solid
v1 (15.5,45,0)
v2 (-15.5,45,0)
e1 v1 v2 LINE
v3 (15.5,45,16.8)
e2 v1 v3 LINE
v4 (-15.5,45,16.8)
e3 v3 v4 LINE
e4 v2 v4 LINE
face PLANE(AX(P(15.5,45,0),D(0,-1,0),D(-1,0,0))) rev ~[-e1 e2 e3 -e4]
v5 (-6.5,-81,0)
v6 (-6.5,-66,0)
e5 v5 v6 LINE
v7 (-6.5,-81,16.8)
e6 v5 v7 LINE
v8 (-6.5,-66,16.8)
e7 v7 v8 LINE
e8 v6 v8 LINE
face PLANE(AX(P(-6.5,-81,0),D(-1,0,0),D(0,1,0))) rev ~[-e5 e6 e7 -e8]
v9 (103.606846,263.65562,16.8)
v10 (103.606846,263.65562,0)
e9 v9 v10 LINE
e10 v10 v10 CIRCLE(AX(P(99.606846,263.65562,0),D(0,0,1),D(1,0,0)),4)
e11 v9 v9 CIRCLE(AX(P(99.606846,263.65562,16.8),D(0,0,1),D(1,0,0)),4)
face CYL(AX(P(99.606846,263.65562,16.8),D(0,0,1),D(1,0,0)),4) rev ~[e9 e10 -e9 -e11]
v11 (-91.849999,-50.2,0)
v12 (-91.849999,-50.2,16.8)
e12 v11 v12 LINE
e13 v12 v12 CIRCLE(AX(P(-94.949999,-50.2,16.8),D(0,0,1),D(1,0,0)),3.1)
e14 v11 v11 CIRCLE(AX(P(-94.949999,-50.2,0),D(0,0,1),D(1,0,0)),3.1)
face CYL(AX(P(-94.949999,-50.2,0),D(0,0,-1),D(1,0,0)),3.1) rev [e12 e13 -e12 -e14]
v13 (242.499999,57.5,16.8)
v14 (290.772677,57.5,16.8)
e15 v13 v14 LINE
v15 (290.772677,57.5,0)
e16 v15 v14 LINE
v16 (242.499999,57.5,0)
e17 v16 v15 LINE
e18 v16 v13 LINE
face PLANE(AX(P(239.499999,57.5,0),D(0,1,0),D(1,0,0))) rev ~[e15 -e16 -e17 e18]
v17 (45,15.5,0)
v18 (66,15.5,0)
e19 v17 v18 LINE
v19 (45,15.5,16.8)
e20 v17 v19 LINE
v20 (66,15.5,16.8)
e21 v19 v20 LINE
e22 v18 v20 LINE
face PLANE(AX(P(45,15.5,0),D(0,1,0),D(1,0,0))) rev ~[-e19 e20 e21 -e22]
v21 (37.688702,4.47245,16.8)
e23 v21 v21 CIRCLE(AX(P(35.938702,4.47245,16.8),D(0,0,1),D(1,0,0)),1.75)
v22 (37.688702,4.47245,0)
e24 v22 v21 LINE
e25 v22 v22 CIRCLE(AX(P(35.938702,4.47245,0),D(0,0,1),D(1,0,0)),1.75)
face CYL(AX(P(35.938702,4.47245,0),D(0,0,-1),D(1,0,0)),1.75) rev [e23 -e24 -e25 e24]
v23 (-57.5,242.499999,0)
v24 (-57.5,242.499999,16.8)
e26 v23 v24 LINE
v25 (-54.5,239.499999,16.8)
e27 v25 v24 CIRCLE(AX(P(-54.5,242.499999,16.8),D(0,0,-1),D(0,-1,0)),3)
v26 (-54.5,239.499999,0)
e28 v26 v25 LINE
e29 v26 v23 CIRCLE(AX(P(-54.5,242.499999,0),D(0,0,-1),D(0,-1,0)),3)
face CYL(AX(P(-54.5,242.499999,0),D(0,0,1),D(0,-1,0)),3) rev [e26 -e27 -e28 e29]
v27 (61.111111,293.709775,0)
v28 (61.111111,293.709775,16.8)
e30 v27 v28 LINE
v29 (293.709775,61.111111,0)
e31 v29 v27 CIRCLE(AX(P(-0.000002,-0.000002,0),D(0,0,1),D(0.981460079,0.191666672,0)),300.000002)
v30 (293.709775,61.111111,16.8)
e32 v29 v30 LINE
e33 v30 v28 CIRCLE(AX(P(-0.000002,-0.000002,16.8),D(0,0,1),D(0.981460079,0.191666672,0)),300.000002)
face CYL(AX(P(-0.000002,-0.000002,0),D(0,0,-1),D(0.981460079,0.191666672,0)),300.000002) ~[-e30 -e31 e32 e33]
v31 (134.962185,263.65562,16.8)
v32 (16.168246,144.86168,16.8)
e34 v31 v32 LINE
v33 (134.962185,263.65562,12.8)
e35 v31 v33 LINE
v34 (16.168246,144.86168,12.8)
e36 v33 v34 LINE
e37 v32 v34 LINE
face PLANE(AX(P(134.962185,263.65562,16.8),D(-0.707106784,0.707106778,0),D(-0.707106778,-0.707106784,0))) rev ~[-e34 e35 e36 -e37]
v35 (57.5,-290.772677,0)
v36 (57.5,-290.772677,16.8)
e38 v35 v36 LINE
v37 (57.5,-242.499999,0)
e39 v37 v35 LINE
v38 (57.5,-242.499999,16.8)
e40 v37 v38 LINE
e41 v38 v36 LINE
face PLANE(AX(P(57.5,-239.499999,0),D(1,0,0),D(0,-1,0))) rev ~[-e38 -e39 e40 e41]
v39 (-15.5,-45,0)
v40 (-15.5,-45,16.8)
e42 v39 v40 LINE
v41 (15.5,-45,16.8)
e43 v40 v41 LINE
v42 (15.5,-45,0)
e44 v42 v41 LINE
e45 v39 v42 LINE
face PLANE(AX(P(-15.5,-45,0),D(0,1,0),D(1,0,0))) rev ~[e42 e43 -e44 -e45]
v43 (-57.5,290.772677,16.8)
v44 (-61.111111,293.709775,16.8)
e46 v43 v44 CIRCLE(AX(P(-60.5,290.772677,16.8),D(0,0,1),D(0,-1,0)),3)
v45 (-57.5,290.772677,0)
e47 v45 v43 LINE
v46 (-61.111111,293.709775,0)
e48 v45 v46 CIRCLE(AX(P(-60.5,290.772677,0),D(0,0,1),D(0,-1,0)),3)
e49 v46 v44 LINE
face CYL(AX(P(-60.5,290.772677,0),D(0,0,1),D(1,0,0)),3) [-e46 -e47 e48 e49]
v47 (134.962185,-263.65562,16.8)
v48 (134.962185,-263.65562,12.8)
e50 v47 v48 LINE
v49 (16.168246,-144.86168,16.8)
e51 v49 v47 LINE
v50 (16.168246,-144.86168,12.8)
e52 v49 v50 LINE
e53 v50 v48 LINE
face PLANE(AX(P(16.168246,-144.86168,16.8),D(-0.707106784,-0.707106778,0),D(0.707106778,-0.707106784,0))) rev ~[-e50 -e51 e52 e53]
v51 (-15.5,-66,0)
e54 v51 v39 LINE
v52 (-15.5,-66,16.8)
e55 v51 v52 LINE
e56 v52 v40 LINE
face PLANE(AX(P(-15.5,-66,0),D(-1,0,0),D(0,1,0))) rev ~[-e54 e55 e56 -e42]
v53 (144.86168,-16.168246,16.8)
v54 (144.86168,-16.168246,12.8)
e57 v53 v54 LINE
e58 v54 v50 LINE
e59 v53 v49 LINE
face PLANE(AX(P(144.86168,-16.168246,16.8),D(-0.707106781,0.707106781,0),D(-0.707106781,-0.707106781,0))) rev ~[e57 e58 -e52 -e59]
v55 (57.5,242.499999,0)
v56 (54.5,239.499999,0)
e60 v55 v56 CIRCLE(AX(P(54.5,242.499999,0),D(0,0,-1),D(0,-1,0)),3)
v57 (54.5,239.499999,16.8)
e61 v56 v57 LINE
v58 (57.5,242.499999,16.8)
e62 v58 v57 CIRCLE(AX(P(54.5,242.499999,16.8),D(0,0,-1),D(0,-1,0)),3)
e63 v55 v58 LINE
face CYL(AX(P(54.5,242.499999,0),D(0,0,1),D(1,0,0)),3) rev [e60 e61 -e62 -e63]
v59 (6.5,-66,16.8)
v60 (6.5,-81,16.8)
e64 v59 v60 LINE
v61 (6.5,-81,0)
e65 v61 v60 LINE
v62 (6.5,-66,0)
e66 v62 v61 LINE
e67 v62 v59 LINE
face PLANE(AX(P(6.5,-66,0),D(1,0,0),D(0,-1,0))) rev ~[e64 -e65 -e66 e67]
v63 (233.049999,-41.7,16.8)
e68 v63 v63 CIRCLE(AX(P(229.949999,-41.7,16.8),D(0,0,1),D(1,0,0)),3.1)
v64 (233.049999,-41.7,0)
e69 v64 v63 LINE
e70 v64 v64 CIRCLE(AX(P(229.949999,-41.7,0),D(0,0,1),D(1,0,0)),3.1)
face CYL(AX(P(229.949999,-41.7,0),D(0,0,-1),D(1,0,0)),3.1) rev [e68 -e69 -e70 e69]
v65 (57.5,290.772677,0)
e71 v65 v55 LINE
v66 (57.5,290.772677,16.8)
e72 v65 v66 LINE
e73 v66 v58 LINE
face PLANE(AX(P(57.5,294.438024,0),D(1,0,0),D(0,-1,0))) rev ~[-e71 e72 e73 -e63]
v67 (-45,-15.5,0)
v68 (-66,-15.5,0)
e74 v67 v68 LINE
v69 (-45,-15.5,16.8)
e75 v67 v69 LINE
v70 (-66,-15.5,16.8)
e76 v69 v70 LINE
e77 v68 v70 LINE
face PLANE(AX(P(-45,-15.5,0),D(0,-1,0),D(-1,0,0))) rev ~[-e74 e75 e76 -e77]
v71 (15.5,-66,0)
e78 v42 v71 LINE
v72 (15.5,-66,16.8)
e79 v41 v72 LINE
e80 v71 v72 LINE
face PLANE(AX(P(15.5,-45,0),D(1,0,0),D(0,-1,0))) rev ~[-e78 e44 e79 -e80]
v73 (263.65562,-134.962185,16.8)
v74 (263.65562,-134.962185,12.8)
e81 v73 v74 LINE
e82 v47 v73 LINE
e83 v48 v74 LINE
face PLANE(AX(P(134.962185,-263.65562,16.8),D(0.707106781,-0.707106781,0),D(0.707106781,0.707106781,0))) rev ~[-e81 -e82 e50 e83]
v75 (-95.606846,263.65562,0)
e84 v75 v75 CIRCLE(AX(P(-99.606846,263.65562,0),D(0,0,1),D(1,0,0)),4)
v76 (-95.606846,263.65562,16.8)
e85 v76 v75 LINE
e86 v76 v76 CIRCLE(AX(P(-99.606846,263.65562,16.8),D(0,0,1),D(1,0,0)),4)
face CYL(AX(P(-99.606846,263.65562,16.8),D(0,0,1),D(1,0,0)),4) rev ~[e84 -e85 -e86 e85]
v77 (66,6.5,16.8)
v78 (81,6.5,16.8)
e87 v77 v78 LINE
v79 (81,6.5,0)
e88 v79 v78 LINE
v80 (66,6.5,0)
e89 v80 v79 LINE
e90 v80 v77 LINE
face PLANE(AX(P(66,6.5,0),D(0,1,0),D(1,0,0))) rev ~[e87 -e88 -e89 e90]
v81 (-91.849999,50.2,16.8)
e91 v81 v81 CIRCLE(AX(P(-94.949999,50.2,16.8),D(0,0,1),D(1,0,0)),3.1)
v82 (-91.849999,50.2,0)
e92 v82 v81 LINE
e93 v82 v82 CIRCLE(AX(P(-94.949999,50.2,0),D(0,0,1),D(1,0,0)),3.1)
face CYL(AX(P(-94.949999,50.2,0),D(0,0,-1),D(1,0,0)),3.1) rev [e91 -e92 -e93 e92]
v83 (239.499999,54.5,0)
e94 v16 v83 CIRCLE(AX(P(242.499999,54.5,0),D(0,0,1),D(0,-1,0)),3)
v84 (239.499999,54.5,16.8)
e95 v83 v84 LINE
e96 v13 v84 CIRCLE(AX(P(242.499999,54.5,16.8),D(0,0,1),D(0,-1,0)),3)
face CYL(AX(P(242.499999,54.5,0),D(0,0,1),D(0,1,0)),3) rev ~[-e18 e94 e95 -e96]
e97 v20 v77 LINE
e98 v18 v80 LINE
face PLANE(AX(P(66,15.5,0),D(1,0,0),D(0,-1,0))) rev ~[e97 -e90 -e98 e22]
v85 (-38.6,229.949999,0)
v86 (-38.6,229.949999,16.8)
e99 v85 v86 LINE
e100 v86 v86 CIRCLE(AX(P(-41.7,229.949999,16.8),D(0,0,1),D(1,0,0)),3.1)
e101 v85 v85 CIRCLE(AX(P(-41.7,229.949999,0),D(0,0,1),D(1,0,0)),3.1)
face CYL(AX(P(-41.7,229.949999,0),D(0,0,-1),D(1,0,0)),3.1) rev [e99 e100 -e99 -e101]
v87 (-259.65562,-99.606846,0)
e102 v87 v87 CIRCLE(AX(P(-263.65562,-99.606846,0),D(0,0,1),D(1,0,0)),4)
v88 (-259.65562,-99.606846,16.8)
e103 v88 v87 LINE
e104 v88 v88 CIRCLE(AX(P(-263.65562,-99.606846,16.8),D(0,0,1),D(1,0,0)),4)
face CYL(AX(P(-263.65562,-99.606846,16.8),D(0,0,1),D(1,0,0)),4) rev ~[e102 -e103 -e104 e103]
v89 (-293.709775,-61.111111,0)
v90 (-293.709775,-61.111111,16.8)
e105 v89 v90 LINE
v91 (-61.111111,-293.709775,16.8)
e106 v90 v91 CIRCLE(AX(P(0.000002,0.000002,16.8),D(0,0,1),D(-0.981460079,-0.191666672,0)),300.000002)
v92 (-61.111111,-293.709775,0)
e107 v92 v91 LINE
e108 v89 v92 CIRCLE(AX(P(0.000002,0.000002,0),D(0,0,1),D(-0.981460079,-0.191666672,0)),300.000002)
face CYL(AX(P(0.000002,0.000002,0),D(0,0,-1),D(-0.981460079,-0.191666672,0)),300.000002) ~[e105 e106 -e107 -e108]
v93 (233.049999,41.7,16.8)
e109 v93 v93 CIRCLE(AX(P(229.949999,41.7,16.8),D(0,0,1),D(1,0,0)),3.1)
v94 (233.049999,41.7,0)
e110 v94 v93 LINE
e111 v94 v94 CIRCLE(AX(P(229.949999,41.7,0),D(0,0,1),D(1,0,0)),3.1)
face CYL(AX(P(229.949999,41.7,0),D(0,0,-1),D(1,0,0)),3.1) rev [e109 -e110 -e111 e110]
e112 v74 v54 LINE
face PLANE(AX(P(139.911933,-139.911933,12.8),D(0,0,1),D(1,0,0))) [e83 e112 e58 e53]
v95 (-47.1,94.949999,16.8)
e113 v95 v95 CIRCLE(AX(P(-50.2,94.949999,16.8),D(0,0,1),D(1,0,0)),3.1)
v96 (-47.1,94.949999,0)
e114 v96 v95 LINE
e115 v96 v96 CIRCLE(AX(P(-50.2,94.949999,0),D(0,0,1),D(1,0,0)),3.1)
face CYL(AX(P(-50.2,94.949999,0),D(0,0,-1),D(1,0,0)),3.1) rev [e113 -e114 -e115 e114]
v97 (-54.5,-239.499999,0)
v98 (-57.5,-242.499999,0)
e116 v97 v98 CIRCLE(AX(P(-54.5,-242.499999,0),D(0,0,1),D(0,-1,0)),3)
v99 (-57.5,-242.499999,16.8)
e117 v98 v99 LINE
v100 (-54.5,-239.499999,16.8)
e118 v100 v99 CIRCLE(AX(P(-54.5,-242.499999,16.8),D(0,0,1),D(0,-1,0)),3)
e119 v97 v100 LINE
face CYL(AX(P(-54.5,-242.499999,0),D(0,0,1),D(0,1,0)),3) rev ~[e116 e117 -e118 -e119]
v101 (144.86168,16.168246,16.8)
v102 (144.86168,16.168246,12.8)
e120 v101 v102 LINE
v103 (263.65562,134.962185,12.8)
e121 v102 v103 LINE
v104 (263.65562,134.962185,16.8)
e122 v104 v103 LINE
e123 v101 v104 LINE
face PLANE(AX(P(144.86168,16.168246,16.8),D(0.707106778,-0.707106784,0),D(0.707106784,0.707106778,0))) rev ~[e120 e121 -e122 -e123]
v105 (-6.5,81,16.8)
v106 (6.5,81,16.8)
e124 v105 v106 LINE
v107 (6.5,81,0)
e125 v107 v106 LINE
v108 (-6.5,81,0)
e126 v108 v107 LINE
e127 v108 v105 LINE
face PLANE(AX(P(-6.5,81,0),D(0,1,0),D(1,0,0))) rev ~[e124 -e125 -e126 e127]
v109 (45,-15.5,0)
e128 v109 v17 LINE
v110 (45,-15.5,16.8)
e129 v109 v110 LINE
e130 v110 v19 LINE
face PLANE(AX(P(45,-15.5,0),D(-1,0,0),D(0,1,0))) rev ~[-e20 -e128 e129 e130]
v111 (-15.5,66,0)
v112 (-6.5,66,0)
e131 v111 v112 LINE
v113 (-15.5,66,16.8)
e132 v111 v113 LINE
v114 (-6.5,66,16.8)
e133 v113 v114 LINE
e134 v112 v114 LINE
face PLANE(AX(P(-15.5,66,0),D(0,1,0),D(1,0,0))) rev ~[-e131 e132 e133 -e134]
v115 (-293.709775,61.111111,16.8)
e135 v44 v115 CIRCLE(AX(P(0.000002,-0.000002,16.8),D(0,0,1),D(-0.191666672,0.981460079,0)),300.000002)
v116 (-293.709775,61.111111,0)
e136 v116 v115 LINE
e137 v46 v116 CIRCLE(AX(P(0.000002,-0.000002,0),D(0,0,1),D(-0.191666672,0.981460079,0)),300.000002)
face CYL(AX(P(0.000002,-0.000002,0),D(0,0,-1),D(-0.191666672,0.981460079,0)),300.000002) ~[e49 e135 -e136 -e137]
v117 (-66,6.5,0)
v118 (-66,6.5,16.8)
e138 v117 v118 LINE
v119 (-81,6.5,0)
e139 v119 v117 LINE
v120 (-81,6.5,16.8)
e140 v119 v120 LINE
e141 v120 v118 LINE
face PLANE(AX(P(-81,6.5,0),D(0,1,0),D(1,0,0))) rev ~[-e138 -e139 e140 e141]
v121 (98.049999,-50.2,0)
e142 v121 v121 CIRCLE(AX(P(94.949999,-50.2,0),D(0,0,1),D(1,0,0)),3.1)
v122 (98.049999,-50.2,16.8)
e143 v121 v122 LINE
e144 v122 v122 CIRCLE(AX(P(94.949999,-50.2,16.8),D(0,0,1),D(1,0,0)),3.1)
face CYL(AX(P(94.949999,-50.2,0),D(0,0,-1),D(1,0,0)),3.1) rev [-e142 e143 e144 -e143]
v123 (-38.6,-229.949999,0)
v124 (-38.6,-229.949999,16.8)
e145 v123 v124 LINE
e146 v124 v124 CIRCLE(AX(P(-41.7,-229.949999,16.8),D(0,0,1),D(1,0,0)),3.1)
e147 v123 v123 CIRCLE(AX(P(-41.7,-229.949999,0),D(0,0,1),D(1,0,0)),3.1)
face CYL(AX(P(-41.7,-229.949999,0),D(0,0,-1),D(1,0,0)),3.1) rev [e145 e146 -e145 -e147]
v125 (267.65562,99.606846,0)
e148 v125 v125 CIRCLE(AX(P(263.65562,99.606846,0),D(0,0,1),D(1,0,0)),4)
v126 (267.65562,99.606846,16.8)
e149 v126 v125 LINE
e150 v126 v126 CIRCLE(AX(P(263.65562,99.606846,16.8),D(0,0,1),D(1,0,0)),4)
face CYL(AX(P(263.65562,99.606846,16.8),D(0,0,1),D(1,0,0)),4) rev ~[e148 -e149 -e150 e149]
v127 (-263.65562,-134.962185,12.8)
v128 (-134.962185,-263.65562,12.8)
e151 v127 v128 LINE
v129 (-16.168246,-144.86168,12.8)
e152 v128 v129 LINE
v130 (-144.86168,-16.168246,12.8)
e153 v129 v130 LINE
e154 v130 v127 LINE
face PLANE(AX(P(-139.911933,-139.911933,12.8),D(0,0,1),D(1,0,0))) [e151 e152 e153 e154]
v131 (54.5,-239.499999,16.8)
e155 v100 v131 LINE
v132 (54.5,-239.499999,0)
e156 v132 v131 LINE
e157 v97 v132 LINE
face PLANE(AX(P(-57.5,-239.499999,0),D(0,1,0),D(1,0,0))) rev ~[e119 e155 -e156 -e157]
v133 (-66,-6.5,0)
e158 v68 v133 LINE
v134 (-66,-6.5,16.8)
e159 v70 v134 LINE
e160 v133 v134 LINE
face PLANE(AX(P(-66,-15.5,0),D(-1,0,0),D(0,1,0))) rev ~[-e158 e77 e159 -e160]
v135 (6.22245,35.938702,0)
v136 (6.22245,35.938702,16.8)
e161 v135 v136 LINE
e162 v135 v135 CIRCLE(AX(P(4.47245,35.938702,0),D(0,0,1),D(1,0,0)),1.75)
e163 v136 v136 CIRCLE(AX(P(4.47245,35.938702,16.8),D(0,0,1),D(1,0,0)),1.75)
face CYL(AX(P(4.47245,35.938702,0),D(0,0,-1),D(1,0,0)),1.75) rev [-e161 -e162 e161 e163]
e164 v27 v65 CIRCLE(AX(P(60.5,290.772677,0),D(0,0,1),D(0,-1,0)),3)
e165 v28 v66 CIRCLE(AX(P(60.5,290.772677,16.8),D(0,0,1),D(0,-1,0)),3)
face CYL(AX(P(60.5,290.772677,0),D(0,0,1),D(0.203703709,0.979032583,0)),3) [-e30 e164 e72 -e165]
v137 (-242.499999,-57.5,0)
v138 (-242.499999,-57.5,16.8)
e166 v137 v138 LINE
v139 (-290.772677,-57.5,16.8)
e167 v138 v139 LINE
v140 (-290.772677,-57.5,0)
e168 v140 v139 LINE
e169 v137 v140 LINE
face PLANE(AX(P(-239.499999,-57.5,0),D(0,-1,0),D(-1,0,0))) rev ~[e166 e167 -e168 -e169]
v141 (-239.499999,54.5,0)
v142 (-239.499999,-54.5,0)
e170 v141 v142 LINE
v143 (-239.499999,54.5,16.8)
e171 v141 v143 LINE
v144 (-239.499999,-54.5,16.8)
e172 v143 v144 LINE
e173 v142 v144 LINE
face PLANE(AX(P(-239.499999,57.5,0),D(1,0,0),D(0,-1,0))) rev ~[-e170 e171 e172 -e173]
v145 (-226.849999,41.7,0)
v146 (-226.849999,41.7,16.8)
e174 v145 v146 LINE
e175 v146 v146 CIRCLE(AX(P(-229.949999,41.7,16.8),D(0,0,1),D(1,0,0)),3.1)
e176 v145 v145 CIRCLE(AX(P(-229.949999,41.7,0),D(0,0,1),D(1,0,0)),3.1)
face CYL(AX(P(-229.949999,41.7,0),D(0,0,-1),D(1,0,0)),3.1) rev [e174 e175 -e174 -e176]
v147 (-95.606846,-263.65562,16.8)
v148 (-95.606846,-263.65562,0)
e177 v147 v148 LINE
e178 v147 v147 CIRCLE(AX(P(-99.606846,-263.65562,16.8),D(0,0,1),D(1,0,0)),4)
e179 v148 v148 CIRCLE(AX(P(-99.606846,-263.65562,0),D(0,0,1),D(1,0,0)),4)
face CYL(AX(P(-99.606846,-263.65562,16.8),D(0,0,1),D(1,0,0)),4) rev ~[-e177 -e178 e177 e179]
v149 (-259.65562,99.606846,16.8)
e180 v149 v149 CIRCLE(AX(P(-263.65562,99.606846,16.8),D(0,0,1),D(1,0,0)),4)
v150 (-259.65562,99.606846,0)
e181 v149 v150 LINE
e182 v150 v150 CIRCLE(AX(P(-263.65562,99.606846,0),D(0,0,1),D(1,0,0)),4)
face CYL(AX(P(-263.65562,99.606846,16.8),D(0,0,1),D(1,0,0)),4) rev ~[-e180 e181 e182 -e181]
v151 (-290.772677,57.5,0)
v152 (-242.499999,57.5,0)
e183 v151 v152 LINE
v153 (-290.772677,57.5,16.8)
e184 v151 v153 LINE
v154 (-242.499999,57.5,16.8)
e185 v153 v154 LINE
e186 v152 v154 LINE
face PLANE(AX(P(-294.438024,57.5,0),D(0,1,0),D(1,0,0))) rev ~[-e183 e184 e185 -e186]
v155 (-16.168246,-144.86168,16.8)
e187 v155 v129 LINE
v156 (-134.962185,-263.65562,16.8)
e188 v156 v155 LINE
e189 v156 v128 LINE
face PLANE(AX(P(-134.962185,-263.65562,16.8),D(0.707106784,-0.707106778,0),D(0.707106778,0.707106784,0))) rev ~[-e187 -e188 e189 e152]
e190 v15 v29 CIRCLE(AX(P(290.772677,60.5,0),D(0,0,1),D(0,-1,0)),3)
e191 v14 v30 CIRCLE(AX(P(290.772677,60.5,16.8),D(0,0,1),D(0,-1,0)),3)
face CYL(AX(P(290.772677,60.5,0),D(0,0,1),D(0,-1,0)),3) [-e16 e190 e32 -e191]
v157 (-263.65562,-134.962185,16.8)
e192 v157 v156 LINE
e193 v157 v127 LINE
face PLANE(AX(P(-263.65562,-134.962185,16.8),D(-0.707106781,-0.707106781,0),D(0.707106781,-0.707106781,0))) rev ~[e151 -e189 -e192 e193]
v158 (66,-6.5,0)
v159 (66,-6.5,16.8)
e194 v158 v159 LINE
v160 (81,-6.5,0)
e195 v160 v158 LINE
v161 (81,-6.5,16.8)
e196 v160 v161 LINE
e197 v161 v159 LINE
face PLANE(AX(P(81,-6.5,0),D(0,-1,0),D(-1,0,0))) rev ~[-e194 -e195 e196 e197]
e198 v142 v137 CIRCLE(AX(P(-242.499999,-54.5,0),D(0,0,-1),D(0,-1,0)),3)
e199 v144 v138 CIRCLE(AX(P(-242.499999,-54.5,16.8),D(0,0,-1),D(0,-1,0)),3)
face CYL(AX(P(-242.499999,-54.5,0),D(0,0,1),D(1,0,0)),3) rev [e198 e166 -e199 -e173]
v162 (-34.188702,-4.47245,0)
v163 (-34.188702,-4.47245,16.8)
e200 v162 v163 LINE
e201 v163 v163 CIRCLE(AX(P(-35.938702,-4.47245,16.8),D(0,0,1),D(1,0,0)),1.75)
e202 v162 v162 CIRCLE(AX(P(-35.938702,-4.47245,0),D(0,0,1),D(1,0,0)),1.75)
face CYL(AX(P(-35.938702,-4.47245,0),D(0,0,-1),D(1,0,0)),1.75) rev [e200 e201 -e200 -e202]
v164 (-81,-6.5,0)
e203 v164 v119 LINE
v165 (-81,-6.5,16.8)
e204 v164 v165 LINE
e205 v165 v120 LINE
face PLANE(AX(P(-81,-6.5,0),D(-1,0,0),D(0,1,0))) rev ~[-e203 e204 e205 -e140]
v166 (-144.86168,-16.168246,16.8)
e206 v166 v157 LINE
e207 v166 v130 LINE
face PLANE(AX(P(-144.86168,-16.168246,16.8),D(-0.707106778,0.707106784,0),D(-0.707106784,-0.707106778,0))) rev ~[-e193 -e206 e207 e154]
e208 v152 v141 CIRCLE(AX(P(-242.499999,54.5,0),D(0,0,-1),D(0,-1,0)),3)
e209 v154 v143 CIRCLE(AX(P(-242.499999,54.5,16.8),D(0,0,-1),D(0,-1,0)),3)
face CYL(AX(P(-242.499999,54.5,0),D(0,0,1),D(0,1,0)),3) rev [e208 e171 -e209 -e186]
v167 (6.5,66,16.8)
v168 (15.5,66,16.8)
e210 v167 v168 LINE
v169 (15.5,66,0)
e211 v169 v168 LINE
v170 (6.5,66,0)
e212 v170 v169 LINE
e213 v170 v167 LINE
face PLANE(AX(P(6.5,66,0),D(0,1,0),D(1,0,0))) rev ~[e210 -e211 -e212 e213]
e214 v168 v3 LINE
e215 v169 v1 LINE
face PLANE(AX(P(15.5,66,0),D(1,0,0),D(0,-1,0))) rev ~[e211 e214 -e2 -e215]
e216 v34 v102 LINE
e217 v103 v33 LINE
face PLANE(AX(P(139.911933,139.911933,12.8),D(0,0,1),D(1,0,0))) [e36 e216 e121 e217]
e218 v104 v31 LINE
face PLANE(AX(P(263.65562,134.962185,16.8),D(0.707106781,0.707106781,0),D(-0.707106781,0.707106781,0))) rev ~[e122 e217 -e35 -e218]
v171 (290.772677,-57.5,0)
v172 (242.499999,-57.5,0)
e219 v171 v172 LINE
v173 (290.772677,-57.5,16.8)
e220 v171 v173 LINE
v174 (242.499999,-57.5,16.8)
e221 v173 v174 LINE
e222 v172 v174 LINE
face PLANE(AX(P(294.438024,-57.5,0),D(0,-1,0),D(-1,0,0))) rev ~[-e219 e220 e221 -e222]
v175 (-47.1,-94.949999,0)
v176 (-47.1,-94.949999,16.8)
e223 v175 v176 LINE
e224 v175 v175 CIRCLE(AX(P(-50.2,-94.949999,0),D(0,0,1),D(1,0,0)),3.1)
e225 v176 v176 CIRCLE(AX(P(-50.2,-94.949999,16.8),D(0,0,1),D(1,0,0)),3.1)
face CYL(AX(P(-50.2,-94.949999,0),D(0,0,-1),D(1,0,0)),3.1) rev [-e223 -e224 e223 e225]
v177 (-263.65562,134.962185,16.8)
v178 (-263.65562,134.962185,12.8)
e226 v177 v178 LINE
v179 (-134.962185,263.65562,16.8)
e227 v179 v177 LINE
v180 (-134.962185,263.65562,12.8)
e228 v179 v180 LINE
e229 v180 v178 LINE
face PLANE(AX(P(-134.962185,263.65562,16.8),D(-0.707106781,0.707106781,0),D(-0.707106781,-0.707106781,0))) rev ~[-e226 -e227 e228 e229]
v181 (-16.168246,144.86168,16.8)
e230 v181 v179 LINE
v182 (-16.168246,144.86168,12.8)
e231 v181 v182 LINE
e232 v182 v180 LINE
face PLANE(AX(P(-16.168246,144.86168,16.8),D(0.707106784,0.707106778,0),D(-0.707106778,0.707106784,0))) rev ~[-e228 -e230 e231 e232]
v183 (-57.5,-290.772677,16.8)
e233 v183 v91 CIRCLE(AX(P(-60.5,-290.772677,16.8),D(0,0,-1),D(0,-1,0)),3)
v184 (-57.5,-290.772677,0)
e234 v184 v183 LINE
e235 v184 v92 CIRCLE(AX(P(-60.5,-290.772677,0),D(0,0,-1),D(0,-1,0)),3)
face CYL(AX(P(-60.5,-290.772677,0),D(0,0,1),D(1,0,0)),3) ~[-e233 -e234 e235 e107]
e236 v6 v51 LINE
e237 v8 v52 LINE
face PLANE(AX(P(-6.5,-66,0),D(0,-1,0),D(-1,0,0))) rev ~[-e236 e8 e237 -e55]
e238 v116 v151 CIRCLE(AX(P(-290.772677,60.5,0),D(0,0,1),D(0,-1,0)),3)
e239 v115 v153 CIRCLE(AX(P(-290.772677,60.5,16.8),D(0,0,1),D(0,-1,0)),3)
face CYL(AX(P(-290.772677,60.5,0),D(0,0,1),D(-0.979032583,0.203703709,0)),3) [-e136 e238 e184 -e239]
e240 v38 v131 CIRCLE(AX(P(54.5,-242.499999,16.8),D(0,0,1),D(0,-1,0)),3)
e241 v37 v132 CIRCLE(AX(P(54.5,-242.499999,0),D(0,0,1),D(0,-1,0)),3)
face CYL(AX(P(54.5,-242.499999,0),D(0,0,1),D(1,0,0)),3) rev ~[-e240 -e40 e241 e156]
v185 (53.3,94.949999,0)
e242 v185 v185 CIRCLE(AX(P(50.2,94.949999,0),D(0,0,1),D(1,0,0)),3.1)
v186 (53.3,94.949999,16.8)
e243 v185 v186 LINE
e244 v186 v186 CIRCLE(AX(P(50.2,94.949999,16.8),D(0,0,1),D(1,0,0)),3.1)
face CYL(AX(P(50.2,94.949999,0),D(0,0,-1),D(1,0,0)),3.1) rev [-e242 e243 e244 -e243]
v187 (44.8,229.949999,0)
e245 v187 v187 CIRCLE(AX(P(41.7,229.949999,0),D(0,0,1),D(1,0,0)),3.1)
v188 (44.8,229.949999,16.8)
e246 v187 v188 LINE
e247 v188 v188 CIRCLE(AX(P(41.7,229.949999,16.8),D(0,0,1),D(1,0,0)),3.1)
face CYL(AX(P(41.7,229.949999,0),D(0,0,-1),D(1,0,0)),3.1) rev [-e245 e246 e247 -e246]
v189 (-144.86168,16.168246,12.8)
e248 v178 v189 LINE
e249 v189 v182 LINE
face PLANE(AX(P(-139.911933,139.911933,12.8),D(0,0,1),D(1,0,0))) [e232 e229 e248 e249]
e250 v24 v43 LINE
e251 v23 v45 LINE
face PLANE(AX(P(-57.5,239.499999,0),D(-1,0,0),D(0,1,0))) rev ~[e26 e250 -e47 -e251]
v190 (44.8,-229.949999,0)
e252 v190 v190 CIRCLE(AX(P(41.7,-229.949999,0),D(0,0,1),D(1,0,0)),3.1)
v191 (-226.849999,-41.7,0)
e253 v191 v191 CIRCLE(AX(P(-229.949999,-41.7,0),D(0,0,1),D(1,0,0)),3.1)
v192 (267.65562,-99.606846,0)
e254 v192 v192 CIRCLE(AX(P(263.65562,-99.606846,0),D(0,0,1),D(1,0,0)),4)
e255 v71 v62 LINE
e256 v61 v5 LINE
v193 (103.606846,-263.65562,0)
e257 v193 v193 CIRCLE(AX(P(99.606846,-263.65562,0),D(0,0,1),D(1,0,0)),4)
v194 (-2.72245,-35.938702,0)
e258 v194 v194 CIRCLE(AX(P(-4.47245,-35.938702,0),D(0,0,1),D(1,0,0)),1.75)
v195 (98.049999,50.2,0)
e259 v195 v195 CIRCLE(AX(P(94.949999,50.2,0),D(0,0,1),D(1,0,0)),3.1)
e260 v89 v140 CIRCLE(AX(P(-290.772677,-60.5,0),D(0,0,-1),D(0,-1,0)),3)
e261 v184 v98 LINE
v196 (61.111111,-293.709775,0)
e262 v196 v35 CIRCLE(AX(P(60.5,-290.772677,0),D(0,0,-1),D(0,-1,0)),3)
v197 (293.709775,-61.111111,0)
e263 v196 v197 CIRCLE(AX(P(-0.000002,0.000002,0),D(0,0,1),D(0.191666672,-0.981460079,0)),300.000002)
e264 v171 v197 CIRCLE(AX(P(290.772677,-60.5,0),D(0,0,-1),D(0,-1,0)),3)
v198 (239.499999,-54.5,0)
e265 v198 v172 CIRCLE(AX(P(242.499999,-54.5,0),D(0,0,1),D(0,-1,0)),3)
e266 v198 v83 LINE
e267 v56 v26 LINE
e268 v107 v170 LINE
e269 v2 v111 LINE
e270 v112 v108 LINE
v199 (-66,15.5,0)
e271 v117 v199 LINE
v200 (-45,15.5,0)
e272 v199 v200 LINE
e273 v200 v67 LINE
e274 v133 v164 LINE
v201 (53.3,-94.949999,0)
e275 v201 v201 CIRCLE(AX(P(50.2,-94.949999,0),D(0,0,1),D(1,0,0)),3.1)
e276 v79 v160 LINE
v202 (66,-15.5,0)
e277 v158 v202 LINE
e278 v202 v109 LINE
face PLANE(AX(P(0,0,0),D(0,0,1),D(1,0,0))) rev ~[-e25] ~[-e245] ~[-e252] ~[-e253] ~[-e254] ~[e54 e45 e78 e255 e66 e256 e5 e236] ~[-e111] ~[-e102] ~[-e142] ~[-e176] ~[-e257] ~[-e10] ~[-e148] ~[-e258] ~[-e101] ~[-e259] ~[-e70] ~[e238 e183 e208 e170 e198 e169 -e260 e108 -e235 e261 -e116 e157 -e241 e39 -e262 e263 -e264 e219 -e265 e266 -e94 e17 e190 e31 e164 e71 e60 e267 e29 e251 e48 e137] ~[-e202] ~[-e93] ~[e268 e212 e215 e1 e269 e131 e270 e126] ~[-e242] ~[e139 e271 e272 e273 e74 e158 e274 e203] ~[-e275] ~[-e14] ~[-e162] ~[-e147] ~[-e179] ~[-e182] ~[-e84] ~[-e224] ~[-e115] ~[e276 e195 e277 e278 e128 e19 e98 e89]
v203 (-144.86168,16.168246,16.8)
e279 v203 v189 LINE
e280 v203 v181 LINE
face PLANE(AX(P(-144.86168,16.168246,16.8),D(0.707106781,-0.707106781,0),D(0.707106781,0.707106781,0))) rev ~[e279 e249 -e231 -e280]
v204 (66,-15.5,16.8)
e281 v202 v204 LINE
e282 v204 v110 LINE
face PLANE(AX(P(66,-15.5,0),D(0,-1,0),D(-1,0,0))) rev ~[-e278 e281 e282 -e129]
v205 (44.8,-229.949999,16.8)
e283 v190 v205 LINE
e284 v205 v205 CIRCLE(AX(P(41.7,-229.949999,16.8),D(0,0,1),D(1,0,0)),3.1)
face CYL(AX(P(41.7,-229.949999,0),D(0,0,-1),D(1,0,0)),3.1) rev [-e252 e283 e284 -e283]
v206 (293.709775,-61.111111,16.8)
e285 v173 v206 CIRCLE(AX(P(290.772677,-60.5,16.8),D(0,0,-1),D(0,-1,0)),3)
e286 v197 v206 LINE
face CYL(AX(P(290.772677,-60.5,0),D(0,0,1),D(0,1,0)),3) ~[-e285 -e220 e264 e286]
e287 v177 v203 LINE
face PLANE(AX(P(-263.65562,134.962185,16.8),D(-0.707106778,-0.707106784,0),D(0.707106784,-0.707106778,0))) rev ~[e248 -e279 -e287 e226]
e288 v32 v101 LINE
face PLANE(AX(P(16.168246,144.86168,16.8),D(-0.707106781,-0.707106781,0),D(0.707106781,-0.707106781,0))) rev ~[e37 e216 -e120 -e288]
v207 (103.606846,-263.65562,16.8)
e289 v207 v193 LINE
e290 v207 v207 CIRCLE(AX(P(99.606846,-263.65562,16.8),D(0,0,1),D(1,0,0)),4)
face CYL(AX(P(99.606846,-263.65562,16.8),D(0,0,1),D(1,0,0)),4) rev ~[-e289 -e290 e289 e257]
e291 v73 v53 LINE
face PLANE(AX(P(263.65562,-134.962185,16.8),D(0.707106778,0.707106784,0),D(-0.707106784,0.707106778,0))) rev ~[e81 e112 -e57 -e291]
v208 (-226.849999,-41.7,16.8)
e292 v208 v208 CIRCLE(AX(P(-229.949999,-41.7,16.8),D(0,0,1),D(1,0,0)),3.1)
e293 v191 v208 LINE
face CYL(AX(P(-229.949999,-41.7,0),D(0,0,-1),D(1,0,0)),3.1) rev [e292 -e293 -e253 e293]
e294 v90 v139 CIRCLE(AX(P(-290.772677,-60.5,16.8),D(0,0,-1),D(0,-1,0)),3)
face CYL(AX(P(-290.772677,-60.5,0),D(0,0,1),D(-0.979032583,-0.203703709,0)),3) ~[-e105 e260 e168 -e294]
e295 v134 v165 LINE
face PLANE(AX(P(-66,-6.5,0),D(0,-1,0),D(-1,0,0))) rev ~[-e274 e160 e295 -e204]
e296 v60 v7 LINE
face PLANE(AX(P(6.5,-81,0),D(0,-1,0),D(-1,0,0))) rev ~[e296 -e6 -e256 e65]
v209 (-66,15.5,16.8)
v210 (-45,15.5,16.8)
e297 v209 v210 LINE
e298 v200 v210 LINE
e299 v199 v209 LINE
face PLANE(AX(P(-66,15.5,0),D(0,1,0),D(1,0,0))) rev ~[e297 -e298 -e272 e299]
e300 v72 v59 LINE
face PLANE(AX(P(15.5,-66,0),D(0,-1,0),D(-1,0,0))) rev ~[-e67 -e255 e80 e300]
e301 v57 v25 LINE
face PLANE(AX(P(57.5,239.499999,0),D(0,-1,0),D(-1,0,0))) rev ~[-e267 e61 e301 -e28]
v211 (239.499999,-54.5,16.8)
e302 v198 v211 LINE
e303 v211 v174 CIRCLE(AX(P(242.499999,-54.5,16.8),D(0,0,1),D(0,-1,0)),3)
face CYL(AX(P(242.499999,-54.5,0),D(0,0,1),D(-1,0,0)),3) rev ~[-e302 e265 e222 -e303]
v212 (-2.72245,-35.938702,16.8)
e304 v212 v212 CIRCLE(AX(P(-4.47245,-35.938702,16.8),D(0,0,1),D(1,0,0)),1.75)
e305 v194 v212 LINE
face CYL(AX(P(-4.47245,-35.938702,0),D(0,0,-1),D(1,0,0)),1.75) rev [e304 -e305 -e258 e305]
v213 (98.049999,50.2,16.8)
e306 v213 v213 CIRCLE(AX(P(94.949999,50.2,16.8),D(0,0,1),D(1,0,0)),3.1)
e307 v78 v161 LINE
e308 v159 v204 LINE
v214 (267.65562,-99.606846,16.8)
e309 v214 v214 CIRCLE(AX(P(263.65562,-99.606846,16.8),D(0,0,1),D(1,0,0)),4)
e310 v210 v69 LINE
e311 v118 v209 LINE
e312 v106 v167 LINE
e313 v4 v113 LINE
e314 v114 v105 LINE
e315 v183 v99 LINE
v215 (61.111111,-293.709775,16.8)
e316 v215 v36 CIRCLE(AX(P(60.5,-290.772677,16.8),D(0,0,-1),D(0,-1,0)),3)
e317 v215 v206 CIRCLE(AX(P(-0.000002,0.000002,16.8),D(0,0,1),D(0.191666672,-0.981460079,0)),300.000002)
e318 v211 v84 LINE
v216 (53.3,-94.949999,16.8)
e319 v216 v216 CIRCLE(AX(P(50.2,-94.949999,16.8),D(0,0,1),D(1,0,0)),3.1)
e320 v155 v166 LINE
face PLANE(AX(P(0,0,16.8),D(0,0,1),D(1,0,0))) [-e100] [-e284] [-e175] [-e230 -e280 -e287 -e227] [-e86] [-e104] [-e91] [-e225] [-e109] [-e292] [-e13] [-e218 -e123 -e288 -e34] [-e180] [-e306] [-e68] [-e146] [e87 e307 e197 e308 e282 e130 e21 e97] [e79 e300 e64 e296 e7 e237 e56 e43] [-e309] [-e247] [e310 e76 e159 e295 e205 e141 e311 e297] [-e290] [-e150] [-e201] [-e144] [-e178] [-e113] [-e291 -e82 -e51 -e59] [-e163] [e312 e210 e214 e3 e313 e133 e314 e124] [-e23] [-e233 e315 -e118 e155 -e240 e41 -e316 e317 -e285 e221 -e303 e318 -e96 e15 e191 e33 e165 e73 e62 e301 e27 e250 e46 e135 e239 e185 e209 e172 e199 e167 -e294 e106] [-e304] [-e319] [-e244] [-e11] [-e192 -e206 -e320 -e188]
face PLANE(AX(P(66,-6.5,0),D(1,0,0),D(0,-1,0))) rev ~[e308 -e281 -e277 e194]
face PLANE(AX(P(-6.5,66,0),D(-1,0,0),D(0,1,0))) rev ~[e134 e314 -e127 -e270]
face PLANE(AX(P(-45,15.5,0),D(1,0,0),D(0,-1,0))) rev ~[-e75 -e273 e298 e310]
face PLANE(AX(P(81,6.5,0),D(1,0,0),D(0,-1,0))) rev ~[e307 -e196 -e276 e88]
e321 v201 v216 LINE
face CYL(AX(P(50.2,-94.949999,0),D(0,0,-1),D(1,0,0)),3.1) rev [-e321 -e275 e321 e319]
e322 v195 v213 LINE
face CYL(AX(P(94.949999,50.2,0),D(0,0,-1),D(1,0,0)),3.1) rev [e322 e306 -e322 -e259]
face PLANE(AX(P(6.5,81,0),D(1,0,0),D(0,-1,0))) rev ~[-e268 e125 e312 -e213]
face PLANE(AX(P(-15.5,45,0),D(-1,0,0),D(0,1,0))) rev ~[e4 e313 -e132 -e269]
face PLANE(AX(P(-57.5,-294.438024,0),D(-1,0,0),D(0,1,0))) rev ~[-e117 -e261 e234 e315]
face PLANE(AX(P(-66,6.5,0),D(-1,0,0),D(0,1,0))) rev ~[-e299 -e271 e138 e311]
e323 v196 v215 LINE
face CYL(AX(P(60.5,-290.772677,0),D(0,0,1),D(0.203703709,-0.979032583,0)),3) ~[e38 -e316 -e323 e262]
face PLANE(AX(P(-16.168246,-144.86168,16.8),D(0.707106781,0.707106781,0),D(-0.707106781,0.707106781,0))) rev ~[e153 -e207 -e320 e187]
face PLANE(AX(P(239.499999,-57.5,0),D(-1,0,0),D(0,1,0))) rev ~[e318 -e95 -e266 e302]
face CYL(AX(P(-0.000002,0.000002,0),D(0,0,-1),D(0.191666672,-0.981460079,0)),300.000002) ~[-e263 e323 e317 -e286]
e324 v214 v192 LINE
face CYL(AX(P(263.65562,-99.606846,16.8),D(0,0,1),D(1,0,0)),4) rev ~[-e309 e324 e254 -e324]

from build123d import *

# Parameters (mm, degrees)
F0_R     = 3.1
F0_R_2   = 1.75
F1_DEPTH = 16.8
F3_DEPTH = 4
F4_R     = 4
F5_DEPTH = 25
F6_R     = 3


with BuildPart() as f1:
    # F0 (on Top) → F1 (new body)
    with BuildSketch(Plane.XY):
        with BuildLine():
            Line((239.499999, 57.5), (294.438024, 57.5))
            ThreePointArc((294.438024, 57.5), (212.132034, 212.132034), (57.5, 294.438024))
            Line((57.5, 294.438024), (57.5, 239.499999))
            Line((57.5, 239.499999), (-57.5, 239.499999))
            Line((-57.5, 239.499999), (-57.5, 294.438024))
            ThreePointArc((-57.5, 294.438024), (-212.132034, 212.132034), (-294.438024, 57.5))
            Line((-294.438024, 57.5), (-239.499999, 57.5))
            Line((-239.499999, 57.5), (-239.499999, -57.5))
            Line((-239.499999, -57.5), (-294.438024, -57.5))
            ThreePointArc((-294.438024, -57.5), (-212.132034, -212.132034), (-57.5, -294.438024))
            Line((-57.5, -294.438024), (-57.5, -239.499999))
            Line((-57.5, -239.499999), (57.5, -239.499999))
            Line((57.5, -239.499999), (57.5, -294.438024))
            ThreePointArc((57.5, -294.438024), (212.132034, -212.132034), (294.438024, -57.5))
            Line((294.438024, -57.5), (239.499999, -57.5))
            Line((239.499999, -57.5), (239.499999, 57.5))
        make_face()
        with Locations((-41.7, -229.949999)):
            Circle(F0_R, mode=Mode.SUBTRACT)
        with Locations((-229.949999, -41.7)):
            Circle(F0_R, mode=Mode.SUBTRACT)
        with Locations((-50.2, -94.949999)):
            Circle(F0_R, mode=Mode.SUBTRACT)
        with Locations((-94.949999, -50.2)):
            Circle(F0_R, mode=Mode.SUBTRACT)
        with Locations((-4.47245, -35.938702)):
            Circle(F0_R_2, mode=Mode.SUBTRACT)
        with Locations((-35.938702, -4.47245)):
            Circle(F0_R_2, mode=Mode.SUBTRACT)
        with Locations((41.7, -229.949999)):
            Circle(F0_R, mode=Mode.SUBTRACT)
        with Locations((50.2, -94.949999)):
            Circle(F0_R, mode=Mode.SUBTRACT)
        Polygon((-15.5, -66), (-15.5, -45), (15.5, -45), (15.5, -66), (6.5, -66), (6.5, -81), (-6.5, -81), (-6.5, -66), align=None, mode=Mode.SUBTRACT)
        with Locations((94.949999, -50.2)):
            Circle(F0_R, mode=Mode.SUBTRACT)
        with Locations((229.949999, -41.7)):
            Circle(F0_R, mode=Mode.SUBTRACT)
        with Locations((-229.949999, 41.7)):
            Circle(F0_R, mode=Mode.SUBTRACT)
        with Locations((-94.949999, 50.2)):
            Circle(F0_R, mode=Mode.SUBTRACT)
        Polygon((-45, 15.5), (-45, -15.5), (-66, -15.5), (-66, -6.5), (-81, -6.5), (-81, 6.5), (-66, 6.5), (-66, 15.5), align=None, mode=Mode.SUBTRACT)
        with Locations((-50.2, 94.949999)):
            Circle(F0_R, mode=Mode.SUBTRACT)
        with Locations((-41.7, 229.949999)):
            Circle(F0_R, mode=Mode.SUBTRACT)
        with Locations((35.938702, 4.47245)):
            Circle(F0_R_2, mode=Mode.SUBTRACT)
        with Locations((4.47245, 35.938702)):
            Circle(F0_R_2, mode=Mode.SUBTRACT)
        Polygon((66, -15.5), (45, -15.5), (45, 15.5), (66, 15.5), (66, 6.5), (81, 6.5), (81, -6.5), (66, -6.5), align=None, mode=Mode.SUBTRACT)
        Polygon((15.5, 66), (15.5, 45), (-15.5, 45), (-15.5, 66), (-6.5, 66), (-6.5, 81), (6.5, 81), (6.5, 66), align=None, mode=Mode.SUBTRACT)
        with Locations((94.949999, 50.2)):
            Circle(F0_R, mode=Mode.SUBTRACT)
        with Locations((50.2, 94.949999)):
            Circle(F0_R, mode=Mode.SUBTRACT)
        with Locations((229.949999, 41.7)):
            Circle(F0_R, mode=Mode.SUBTRACT)
        with Locations((41.7, 229.949999)):
            Circle(F0_R, mode=Mode.SUBTRACT)
    extrude(amount=F1_DEPTH)

    # F2 (on face) → F3 (cut)
    with BuildSketch(Plane.XY.offset(16.8)):
        Polygon((-144.86168, -16.168246), (-263.65562, -134.962185), (-134.962185, -263.65562), (-16.168246, -144.86168), align=None)
        Polygon((144.86168, -16.168246), (16.168246, -144.86168), (134.962185, -263.65562), (263.65562, -134.962185), align=None)
        Polygon((16.168246, 144.86168), (144.86168, 16.168246), (263.65562, 134.962185), (134.962185, 263.65562), align=None)
        Polygon((-144.86168, 16.168246), (-16.168246, 144.86168), (-134.962185, 263.65562), (-263.65562, 134.962185), align=None)
    extrude(amount=-F3_DEPTH, mode=Mode.SUBTRACT)

    # F4 (on face) → F5 (cut)
    with BuildSketch(Plane.XY.offset(16.8)):
        with Locations((-263.65562, -99.606846)):
            Circle(F4_R)
        with Locations((-99.606846, -263.65562)):
            Circle(F4_R)
        with Locations((99.606846, -263.65562)):
            Circle(F4_R)
        with Locations((263.65562, -99.606846)):
            Circle(F4_R)
        with Locations((263.65562, 99.606846)):
            Circle(F4_R)
        with Locations((99.606846, 263.65562)):
            Circle(F4_R)
        with Locations((-99.606846, 263.65562)):
            Circle(F4_R)
        with Locations((-263.65562, 99.606846)):
            Circle(F4_R)
    extrude(amount=-F5_DEPTH, mode=Mode.SUBTRACT)

    # F6
    f6_edges = [f1.edges().sort_by_distance(p)[0] for p in [
        (57.5, -239.499999, 8.4),
        (57.5, -294.438024, 8.4),
        (-57.5, -239.499999, 8.4),
        (-57.5, -294.438024, 8.4),
        (-294.438024, 57.5, 8.4),
        (-239.499999, 57.5, 8.4),
        (-239.499999, -57.5, 8.4),
        (-294.438024, -57.5, 8.4),
        (57.5, 239.499999, 8.4),
        (294.438024, -57.5, 8.4),
        (57.5, 294.438024, 8.4),
        (-57.5, 239.499999, 8.4),
        (-57.5, 294.438024, 8.4),
        (239.499999, -57.5, 8.4),
        (239.499999, 57.5, 8.4),
        (294.438024, 57.5, 8.4),
    ]]
    fillet(f6_edges, radius=F6_R)


solid = f1.part
